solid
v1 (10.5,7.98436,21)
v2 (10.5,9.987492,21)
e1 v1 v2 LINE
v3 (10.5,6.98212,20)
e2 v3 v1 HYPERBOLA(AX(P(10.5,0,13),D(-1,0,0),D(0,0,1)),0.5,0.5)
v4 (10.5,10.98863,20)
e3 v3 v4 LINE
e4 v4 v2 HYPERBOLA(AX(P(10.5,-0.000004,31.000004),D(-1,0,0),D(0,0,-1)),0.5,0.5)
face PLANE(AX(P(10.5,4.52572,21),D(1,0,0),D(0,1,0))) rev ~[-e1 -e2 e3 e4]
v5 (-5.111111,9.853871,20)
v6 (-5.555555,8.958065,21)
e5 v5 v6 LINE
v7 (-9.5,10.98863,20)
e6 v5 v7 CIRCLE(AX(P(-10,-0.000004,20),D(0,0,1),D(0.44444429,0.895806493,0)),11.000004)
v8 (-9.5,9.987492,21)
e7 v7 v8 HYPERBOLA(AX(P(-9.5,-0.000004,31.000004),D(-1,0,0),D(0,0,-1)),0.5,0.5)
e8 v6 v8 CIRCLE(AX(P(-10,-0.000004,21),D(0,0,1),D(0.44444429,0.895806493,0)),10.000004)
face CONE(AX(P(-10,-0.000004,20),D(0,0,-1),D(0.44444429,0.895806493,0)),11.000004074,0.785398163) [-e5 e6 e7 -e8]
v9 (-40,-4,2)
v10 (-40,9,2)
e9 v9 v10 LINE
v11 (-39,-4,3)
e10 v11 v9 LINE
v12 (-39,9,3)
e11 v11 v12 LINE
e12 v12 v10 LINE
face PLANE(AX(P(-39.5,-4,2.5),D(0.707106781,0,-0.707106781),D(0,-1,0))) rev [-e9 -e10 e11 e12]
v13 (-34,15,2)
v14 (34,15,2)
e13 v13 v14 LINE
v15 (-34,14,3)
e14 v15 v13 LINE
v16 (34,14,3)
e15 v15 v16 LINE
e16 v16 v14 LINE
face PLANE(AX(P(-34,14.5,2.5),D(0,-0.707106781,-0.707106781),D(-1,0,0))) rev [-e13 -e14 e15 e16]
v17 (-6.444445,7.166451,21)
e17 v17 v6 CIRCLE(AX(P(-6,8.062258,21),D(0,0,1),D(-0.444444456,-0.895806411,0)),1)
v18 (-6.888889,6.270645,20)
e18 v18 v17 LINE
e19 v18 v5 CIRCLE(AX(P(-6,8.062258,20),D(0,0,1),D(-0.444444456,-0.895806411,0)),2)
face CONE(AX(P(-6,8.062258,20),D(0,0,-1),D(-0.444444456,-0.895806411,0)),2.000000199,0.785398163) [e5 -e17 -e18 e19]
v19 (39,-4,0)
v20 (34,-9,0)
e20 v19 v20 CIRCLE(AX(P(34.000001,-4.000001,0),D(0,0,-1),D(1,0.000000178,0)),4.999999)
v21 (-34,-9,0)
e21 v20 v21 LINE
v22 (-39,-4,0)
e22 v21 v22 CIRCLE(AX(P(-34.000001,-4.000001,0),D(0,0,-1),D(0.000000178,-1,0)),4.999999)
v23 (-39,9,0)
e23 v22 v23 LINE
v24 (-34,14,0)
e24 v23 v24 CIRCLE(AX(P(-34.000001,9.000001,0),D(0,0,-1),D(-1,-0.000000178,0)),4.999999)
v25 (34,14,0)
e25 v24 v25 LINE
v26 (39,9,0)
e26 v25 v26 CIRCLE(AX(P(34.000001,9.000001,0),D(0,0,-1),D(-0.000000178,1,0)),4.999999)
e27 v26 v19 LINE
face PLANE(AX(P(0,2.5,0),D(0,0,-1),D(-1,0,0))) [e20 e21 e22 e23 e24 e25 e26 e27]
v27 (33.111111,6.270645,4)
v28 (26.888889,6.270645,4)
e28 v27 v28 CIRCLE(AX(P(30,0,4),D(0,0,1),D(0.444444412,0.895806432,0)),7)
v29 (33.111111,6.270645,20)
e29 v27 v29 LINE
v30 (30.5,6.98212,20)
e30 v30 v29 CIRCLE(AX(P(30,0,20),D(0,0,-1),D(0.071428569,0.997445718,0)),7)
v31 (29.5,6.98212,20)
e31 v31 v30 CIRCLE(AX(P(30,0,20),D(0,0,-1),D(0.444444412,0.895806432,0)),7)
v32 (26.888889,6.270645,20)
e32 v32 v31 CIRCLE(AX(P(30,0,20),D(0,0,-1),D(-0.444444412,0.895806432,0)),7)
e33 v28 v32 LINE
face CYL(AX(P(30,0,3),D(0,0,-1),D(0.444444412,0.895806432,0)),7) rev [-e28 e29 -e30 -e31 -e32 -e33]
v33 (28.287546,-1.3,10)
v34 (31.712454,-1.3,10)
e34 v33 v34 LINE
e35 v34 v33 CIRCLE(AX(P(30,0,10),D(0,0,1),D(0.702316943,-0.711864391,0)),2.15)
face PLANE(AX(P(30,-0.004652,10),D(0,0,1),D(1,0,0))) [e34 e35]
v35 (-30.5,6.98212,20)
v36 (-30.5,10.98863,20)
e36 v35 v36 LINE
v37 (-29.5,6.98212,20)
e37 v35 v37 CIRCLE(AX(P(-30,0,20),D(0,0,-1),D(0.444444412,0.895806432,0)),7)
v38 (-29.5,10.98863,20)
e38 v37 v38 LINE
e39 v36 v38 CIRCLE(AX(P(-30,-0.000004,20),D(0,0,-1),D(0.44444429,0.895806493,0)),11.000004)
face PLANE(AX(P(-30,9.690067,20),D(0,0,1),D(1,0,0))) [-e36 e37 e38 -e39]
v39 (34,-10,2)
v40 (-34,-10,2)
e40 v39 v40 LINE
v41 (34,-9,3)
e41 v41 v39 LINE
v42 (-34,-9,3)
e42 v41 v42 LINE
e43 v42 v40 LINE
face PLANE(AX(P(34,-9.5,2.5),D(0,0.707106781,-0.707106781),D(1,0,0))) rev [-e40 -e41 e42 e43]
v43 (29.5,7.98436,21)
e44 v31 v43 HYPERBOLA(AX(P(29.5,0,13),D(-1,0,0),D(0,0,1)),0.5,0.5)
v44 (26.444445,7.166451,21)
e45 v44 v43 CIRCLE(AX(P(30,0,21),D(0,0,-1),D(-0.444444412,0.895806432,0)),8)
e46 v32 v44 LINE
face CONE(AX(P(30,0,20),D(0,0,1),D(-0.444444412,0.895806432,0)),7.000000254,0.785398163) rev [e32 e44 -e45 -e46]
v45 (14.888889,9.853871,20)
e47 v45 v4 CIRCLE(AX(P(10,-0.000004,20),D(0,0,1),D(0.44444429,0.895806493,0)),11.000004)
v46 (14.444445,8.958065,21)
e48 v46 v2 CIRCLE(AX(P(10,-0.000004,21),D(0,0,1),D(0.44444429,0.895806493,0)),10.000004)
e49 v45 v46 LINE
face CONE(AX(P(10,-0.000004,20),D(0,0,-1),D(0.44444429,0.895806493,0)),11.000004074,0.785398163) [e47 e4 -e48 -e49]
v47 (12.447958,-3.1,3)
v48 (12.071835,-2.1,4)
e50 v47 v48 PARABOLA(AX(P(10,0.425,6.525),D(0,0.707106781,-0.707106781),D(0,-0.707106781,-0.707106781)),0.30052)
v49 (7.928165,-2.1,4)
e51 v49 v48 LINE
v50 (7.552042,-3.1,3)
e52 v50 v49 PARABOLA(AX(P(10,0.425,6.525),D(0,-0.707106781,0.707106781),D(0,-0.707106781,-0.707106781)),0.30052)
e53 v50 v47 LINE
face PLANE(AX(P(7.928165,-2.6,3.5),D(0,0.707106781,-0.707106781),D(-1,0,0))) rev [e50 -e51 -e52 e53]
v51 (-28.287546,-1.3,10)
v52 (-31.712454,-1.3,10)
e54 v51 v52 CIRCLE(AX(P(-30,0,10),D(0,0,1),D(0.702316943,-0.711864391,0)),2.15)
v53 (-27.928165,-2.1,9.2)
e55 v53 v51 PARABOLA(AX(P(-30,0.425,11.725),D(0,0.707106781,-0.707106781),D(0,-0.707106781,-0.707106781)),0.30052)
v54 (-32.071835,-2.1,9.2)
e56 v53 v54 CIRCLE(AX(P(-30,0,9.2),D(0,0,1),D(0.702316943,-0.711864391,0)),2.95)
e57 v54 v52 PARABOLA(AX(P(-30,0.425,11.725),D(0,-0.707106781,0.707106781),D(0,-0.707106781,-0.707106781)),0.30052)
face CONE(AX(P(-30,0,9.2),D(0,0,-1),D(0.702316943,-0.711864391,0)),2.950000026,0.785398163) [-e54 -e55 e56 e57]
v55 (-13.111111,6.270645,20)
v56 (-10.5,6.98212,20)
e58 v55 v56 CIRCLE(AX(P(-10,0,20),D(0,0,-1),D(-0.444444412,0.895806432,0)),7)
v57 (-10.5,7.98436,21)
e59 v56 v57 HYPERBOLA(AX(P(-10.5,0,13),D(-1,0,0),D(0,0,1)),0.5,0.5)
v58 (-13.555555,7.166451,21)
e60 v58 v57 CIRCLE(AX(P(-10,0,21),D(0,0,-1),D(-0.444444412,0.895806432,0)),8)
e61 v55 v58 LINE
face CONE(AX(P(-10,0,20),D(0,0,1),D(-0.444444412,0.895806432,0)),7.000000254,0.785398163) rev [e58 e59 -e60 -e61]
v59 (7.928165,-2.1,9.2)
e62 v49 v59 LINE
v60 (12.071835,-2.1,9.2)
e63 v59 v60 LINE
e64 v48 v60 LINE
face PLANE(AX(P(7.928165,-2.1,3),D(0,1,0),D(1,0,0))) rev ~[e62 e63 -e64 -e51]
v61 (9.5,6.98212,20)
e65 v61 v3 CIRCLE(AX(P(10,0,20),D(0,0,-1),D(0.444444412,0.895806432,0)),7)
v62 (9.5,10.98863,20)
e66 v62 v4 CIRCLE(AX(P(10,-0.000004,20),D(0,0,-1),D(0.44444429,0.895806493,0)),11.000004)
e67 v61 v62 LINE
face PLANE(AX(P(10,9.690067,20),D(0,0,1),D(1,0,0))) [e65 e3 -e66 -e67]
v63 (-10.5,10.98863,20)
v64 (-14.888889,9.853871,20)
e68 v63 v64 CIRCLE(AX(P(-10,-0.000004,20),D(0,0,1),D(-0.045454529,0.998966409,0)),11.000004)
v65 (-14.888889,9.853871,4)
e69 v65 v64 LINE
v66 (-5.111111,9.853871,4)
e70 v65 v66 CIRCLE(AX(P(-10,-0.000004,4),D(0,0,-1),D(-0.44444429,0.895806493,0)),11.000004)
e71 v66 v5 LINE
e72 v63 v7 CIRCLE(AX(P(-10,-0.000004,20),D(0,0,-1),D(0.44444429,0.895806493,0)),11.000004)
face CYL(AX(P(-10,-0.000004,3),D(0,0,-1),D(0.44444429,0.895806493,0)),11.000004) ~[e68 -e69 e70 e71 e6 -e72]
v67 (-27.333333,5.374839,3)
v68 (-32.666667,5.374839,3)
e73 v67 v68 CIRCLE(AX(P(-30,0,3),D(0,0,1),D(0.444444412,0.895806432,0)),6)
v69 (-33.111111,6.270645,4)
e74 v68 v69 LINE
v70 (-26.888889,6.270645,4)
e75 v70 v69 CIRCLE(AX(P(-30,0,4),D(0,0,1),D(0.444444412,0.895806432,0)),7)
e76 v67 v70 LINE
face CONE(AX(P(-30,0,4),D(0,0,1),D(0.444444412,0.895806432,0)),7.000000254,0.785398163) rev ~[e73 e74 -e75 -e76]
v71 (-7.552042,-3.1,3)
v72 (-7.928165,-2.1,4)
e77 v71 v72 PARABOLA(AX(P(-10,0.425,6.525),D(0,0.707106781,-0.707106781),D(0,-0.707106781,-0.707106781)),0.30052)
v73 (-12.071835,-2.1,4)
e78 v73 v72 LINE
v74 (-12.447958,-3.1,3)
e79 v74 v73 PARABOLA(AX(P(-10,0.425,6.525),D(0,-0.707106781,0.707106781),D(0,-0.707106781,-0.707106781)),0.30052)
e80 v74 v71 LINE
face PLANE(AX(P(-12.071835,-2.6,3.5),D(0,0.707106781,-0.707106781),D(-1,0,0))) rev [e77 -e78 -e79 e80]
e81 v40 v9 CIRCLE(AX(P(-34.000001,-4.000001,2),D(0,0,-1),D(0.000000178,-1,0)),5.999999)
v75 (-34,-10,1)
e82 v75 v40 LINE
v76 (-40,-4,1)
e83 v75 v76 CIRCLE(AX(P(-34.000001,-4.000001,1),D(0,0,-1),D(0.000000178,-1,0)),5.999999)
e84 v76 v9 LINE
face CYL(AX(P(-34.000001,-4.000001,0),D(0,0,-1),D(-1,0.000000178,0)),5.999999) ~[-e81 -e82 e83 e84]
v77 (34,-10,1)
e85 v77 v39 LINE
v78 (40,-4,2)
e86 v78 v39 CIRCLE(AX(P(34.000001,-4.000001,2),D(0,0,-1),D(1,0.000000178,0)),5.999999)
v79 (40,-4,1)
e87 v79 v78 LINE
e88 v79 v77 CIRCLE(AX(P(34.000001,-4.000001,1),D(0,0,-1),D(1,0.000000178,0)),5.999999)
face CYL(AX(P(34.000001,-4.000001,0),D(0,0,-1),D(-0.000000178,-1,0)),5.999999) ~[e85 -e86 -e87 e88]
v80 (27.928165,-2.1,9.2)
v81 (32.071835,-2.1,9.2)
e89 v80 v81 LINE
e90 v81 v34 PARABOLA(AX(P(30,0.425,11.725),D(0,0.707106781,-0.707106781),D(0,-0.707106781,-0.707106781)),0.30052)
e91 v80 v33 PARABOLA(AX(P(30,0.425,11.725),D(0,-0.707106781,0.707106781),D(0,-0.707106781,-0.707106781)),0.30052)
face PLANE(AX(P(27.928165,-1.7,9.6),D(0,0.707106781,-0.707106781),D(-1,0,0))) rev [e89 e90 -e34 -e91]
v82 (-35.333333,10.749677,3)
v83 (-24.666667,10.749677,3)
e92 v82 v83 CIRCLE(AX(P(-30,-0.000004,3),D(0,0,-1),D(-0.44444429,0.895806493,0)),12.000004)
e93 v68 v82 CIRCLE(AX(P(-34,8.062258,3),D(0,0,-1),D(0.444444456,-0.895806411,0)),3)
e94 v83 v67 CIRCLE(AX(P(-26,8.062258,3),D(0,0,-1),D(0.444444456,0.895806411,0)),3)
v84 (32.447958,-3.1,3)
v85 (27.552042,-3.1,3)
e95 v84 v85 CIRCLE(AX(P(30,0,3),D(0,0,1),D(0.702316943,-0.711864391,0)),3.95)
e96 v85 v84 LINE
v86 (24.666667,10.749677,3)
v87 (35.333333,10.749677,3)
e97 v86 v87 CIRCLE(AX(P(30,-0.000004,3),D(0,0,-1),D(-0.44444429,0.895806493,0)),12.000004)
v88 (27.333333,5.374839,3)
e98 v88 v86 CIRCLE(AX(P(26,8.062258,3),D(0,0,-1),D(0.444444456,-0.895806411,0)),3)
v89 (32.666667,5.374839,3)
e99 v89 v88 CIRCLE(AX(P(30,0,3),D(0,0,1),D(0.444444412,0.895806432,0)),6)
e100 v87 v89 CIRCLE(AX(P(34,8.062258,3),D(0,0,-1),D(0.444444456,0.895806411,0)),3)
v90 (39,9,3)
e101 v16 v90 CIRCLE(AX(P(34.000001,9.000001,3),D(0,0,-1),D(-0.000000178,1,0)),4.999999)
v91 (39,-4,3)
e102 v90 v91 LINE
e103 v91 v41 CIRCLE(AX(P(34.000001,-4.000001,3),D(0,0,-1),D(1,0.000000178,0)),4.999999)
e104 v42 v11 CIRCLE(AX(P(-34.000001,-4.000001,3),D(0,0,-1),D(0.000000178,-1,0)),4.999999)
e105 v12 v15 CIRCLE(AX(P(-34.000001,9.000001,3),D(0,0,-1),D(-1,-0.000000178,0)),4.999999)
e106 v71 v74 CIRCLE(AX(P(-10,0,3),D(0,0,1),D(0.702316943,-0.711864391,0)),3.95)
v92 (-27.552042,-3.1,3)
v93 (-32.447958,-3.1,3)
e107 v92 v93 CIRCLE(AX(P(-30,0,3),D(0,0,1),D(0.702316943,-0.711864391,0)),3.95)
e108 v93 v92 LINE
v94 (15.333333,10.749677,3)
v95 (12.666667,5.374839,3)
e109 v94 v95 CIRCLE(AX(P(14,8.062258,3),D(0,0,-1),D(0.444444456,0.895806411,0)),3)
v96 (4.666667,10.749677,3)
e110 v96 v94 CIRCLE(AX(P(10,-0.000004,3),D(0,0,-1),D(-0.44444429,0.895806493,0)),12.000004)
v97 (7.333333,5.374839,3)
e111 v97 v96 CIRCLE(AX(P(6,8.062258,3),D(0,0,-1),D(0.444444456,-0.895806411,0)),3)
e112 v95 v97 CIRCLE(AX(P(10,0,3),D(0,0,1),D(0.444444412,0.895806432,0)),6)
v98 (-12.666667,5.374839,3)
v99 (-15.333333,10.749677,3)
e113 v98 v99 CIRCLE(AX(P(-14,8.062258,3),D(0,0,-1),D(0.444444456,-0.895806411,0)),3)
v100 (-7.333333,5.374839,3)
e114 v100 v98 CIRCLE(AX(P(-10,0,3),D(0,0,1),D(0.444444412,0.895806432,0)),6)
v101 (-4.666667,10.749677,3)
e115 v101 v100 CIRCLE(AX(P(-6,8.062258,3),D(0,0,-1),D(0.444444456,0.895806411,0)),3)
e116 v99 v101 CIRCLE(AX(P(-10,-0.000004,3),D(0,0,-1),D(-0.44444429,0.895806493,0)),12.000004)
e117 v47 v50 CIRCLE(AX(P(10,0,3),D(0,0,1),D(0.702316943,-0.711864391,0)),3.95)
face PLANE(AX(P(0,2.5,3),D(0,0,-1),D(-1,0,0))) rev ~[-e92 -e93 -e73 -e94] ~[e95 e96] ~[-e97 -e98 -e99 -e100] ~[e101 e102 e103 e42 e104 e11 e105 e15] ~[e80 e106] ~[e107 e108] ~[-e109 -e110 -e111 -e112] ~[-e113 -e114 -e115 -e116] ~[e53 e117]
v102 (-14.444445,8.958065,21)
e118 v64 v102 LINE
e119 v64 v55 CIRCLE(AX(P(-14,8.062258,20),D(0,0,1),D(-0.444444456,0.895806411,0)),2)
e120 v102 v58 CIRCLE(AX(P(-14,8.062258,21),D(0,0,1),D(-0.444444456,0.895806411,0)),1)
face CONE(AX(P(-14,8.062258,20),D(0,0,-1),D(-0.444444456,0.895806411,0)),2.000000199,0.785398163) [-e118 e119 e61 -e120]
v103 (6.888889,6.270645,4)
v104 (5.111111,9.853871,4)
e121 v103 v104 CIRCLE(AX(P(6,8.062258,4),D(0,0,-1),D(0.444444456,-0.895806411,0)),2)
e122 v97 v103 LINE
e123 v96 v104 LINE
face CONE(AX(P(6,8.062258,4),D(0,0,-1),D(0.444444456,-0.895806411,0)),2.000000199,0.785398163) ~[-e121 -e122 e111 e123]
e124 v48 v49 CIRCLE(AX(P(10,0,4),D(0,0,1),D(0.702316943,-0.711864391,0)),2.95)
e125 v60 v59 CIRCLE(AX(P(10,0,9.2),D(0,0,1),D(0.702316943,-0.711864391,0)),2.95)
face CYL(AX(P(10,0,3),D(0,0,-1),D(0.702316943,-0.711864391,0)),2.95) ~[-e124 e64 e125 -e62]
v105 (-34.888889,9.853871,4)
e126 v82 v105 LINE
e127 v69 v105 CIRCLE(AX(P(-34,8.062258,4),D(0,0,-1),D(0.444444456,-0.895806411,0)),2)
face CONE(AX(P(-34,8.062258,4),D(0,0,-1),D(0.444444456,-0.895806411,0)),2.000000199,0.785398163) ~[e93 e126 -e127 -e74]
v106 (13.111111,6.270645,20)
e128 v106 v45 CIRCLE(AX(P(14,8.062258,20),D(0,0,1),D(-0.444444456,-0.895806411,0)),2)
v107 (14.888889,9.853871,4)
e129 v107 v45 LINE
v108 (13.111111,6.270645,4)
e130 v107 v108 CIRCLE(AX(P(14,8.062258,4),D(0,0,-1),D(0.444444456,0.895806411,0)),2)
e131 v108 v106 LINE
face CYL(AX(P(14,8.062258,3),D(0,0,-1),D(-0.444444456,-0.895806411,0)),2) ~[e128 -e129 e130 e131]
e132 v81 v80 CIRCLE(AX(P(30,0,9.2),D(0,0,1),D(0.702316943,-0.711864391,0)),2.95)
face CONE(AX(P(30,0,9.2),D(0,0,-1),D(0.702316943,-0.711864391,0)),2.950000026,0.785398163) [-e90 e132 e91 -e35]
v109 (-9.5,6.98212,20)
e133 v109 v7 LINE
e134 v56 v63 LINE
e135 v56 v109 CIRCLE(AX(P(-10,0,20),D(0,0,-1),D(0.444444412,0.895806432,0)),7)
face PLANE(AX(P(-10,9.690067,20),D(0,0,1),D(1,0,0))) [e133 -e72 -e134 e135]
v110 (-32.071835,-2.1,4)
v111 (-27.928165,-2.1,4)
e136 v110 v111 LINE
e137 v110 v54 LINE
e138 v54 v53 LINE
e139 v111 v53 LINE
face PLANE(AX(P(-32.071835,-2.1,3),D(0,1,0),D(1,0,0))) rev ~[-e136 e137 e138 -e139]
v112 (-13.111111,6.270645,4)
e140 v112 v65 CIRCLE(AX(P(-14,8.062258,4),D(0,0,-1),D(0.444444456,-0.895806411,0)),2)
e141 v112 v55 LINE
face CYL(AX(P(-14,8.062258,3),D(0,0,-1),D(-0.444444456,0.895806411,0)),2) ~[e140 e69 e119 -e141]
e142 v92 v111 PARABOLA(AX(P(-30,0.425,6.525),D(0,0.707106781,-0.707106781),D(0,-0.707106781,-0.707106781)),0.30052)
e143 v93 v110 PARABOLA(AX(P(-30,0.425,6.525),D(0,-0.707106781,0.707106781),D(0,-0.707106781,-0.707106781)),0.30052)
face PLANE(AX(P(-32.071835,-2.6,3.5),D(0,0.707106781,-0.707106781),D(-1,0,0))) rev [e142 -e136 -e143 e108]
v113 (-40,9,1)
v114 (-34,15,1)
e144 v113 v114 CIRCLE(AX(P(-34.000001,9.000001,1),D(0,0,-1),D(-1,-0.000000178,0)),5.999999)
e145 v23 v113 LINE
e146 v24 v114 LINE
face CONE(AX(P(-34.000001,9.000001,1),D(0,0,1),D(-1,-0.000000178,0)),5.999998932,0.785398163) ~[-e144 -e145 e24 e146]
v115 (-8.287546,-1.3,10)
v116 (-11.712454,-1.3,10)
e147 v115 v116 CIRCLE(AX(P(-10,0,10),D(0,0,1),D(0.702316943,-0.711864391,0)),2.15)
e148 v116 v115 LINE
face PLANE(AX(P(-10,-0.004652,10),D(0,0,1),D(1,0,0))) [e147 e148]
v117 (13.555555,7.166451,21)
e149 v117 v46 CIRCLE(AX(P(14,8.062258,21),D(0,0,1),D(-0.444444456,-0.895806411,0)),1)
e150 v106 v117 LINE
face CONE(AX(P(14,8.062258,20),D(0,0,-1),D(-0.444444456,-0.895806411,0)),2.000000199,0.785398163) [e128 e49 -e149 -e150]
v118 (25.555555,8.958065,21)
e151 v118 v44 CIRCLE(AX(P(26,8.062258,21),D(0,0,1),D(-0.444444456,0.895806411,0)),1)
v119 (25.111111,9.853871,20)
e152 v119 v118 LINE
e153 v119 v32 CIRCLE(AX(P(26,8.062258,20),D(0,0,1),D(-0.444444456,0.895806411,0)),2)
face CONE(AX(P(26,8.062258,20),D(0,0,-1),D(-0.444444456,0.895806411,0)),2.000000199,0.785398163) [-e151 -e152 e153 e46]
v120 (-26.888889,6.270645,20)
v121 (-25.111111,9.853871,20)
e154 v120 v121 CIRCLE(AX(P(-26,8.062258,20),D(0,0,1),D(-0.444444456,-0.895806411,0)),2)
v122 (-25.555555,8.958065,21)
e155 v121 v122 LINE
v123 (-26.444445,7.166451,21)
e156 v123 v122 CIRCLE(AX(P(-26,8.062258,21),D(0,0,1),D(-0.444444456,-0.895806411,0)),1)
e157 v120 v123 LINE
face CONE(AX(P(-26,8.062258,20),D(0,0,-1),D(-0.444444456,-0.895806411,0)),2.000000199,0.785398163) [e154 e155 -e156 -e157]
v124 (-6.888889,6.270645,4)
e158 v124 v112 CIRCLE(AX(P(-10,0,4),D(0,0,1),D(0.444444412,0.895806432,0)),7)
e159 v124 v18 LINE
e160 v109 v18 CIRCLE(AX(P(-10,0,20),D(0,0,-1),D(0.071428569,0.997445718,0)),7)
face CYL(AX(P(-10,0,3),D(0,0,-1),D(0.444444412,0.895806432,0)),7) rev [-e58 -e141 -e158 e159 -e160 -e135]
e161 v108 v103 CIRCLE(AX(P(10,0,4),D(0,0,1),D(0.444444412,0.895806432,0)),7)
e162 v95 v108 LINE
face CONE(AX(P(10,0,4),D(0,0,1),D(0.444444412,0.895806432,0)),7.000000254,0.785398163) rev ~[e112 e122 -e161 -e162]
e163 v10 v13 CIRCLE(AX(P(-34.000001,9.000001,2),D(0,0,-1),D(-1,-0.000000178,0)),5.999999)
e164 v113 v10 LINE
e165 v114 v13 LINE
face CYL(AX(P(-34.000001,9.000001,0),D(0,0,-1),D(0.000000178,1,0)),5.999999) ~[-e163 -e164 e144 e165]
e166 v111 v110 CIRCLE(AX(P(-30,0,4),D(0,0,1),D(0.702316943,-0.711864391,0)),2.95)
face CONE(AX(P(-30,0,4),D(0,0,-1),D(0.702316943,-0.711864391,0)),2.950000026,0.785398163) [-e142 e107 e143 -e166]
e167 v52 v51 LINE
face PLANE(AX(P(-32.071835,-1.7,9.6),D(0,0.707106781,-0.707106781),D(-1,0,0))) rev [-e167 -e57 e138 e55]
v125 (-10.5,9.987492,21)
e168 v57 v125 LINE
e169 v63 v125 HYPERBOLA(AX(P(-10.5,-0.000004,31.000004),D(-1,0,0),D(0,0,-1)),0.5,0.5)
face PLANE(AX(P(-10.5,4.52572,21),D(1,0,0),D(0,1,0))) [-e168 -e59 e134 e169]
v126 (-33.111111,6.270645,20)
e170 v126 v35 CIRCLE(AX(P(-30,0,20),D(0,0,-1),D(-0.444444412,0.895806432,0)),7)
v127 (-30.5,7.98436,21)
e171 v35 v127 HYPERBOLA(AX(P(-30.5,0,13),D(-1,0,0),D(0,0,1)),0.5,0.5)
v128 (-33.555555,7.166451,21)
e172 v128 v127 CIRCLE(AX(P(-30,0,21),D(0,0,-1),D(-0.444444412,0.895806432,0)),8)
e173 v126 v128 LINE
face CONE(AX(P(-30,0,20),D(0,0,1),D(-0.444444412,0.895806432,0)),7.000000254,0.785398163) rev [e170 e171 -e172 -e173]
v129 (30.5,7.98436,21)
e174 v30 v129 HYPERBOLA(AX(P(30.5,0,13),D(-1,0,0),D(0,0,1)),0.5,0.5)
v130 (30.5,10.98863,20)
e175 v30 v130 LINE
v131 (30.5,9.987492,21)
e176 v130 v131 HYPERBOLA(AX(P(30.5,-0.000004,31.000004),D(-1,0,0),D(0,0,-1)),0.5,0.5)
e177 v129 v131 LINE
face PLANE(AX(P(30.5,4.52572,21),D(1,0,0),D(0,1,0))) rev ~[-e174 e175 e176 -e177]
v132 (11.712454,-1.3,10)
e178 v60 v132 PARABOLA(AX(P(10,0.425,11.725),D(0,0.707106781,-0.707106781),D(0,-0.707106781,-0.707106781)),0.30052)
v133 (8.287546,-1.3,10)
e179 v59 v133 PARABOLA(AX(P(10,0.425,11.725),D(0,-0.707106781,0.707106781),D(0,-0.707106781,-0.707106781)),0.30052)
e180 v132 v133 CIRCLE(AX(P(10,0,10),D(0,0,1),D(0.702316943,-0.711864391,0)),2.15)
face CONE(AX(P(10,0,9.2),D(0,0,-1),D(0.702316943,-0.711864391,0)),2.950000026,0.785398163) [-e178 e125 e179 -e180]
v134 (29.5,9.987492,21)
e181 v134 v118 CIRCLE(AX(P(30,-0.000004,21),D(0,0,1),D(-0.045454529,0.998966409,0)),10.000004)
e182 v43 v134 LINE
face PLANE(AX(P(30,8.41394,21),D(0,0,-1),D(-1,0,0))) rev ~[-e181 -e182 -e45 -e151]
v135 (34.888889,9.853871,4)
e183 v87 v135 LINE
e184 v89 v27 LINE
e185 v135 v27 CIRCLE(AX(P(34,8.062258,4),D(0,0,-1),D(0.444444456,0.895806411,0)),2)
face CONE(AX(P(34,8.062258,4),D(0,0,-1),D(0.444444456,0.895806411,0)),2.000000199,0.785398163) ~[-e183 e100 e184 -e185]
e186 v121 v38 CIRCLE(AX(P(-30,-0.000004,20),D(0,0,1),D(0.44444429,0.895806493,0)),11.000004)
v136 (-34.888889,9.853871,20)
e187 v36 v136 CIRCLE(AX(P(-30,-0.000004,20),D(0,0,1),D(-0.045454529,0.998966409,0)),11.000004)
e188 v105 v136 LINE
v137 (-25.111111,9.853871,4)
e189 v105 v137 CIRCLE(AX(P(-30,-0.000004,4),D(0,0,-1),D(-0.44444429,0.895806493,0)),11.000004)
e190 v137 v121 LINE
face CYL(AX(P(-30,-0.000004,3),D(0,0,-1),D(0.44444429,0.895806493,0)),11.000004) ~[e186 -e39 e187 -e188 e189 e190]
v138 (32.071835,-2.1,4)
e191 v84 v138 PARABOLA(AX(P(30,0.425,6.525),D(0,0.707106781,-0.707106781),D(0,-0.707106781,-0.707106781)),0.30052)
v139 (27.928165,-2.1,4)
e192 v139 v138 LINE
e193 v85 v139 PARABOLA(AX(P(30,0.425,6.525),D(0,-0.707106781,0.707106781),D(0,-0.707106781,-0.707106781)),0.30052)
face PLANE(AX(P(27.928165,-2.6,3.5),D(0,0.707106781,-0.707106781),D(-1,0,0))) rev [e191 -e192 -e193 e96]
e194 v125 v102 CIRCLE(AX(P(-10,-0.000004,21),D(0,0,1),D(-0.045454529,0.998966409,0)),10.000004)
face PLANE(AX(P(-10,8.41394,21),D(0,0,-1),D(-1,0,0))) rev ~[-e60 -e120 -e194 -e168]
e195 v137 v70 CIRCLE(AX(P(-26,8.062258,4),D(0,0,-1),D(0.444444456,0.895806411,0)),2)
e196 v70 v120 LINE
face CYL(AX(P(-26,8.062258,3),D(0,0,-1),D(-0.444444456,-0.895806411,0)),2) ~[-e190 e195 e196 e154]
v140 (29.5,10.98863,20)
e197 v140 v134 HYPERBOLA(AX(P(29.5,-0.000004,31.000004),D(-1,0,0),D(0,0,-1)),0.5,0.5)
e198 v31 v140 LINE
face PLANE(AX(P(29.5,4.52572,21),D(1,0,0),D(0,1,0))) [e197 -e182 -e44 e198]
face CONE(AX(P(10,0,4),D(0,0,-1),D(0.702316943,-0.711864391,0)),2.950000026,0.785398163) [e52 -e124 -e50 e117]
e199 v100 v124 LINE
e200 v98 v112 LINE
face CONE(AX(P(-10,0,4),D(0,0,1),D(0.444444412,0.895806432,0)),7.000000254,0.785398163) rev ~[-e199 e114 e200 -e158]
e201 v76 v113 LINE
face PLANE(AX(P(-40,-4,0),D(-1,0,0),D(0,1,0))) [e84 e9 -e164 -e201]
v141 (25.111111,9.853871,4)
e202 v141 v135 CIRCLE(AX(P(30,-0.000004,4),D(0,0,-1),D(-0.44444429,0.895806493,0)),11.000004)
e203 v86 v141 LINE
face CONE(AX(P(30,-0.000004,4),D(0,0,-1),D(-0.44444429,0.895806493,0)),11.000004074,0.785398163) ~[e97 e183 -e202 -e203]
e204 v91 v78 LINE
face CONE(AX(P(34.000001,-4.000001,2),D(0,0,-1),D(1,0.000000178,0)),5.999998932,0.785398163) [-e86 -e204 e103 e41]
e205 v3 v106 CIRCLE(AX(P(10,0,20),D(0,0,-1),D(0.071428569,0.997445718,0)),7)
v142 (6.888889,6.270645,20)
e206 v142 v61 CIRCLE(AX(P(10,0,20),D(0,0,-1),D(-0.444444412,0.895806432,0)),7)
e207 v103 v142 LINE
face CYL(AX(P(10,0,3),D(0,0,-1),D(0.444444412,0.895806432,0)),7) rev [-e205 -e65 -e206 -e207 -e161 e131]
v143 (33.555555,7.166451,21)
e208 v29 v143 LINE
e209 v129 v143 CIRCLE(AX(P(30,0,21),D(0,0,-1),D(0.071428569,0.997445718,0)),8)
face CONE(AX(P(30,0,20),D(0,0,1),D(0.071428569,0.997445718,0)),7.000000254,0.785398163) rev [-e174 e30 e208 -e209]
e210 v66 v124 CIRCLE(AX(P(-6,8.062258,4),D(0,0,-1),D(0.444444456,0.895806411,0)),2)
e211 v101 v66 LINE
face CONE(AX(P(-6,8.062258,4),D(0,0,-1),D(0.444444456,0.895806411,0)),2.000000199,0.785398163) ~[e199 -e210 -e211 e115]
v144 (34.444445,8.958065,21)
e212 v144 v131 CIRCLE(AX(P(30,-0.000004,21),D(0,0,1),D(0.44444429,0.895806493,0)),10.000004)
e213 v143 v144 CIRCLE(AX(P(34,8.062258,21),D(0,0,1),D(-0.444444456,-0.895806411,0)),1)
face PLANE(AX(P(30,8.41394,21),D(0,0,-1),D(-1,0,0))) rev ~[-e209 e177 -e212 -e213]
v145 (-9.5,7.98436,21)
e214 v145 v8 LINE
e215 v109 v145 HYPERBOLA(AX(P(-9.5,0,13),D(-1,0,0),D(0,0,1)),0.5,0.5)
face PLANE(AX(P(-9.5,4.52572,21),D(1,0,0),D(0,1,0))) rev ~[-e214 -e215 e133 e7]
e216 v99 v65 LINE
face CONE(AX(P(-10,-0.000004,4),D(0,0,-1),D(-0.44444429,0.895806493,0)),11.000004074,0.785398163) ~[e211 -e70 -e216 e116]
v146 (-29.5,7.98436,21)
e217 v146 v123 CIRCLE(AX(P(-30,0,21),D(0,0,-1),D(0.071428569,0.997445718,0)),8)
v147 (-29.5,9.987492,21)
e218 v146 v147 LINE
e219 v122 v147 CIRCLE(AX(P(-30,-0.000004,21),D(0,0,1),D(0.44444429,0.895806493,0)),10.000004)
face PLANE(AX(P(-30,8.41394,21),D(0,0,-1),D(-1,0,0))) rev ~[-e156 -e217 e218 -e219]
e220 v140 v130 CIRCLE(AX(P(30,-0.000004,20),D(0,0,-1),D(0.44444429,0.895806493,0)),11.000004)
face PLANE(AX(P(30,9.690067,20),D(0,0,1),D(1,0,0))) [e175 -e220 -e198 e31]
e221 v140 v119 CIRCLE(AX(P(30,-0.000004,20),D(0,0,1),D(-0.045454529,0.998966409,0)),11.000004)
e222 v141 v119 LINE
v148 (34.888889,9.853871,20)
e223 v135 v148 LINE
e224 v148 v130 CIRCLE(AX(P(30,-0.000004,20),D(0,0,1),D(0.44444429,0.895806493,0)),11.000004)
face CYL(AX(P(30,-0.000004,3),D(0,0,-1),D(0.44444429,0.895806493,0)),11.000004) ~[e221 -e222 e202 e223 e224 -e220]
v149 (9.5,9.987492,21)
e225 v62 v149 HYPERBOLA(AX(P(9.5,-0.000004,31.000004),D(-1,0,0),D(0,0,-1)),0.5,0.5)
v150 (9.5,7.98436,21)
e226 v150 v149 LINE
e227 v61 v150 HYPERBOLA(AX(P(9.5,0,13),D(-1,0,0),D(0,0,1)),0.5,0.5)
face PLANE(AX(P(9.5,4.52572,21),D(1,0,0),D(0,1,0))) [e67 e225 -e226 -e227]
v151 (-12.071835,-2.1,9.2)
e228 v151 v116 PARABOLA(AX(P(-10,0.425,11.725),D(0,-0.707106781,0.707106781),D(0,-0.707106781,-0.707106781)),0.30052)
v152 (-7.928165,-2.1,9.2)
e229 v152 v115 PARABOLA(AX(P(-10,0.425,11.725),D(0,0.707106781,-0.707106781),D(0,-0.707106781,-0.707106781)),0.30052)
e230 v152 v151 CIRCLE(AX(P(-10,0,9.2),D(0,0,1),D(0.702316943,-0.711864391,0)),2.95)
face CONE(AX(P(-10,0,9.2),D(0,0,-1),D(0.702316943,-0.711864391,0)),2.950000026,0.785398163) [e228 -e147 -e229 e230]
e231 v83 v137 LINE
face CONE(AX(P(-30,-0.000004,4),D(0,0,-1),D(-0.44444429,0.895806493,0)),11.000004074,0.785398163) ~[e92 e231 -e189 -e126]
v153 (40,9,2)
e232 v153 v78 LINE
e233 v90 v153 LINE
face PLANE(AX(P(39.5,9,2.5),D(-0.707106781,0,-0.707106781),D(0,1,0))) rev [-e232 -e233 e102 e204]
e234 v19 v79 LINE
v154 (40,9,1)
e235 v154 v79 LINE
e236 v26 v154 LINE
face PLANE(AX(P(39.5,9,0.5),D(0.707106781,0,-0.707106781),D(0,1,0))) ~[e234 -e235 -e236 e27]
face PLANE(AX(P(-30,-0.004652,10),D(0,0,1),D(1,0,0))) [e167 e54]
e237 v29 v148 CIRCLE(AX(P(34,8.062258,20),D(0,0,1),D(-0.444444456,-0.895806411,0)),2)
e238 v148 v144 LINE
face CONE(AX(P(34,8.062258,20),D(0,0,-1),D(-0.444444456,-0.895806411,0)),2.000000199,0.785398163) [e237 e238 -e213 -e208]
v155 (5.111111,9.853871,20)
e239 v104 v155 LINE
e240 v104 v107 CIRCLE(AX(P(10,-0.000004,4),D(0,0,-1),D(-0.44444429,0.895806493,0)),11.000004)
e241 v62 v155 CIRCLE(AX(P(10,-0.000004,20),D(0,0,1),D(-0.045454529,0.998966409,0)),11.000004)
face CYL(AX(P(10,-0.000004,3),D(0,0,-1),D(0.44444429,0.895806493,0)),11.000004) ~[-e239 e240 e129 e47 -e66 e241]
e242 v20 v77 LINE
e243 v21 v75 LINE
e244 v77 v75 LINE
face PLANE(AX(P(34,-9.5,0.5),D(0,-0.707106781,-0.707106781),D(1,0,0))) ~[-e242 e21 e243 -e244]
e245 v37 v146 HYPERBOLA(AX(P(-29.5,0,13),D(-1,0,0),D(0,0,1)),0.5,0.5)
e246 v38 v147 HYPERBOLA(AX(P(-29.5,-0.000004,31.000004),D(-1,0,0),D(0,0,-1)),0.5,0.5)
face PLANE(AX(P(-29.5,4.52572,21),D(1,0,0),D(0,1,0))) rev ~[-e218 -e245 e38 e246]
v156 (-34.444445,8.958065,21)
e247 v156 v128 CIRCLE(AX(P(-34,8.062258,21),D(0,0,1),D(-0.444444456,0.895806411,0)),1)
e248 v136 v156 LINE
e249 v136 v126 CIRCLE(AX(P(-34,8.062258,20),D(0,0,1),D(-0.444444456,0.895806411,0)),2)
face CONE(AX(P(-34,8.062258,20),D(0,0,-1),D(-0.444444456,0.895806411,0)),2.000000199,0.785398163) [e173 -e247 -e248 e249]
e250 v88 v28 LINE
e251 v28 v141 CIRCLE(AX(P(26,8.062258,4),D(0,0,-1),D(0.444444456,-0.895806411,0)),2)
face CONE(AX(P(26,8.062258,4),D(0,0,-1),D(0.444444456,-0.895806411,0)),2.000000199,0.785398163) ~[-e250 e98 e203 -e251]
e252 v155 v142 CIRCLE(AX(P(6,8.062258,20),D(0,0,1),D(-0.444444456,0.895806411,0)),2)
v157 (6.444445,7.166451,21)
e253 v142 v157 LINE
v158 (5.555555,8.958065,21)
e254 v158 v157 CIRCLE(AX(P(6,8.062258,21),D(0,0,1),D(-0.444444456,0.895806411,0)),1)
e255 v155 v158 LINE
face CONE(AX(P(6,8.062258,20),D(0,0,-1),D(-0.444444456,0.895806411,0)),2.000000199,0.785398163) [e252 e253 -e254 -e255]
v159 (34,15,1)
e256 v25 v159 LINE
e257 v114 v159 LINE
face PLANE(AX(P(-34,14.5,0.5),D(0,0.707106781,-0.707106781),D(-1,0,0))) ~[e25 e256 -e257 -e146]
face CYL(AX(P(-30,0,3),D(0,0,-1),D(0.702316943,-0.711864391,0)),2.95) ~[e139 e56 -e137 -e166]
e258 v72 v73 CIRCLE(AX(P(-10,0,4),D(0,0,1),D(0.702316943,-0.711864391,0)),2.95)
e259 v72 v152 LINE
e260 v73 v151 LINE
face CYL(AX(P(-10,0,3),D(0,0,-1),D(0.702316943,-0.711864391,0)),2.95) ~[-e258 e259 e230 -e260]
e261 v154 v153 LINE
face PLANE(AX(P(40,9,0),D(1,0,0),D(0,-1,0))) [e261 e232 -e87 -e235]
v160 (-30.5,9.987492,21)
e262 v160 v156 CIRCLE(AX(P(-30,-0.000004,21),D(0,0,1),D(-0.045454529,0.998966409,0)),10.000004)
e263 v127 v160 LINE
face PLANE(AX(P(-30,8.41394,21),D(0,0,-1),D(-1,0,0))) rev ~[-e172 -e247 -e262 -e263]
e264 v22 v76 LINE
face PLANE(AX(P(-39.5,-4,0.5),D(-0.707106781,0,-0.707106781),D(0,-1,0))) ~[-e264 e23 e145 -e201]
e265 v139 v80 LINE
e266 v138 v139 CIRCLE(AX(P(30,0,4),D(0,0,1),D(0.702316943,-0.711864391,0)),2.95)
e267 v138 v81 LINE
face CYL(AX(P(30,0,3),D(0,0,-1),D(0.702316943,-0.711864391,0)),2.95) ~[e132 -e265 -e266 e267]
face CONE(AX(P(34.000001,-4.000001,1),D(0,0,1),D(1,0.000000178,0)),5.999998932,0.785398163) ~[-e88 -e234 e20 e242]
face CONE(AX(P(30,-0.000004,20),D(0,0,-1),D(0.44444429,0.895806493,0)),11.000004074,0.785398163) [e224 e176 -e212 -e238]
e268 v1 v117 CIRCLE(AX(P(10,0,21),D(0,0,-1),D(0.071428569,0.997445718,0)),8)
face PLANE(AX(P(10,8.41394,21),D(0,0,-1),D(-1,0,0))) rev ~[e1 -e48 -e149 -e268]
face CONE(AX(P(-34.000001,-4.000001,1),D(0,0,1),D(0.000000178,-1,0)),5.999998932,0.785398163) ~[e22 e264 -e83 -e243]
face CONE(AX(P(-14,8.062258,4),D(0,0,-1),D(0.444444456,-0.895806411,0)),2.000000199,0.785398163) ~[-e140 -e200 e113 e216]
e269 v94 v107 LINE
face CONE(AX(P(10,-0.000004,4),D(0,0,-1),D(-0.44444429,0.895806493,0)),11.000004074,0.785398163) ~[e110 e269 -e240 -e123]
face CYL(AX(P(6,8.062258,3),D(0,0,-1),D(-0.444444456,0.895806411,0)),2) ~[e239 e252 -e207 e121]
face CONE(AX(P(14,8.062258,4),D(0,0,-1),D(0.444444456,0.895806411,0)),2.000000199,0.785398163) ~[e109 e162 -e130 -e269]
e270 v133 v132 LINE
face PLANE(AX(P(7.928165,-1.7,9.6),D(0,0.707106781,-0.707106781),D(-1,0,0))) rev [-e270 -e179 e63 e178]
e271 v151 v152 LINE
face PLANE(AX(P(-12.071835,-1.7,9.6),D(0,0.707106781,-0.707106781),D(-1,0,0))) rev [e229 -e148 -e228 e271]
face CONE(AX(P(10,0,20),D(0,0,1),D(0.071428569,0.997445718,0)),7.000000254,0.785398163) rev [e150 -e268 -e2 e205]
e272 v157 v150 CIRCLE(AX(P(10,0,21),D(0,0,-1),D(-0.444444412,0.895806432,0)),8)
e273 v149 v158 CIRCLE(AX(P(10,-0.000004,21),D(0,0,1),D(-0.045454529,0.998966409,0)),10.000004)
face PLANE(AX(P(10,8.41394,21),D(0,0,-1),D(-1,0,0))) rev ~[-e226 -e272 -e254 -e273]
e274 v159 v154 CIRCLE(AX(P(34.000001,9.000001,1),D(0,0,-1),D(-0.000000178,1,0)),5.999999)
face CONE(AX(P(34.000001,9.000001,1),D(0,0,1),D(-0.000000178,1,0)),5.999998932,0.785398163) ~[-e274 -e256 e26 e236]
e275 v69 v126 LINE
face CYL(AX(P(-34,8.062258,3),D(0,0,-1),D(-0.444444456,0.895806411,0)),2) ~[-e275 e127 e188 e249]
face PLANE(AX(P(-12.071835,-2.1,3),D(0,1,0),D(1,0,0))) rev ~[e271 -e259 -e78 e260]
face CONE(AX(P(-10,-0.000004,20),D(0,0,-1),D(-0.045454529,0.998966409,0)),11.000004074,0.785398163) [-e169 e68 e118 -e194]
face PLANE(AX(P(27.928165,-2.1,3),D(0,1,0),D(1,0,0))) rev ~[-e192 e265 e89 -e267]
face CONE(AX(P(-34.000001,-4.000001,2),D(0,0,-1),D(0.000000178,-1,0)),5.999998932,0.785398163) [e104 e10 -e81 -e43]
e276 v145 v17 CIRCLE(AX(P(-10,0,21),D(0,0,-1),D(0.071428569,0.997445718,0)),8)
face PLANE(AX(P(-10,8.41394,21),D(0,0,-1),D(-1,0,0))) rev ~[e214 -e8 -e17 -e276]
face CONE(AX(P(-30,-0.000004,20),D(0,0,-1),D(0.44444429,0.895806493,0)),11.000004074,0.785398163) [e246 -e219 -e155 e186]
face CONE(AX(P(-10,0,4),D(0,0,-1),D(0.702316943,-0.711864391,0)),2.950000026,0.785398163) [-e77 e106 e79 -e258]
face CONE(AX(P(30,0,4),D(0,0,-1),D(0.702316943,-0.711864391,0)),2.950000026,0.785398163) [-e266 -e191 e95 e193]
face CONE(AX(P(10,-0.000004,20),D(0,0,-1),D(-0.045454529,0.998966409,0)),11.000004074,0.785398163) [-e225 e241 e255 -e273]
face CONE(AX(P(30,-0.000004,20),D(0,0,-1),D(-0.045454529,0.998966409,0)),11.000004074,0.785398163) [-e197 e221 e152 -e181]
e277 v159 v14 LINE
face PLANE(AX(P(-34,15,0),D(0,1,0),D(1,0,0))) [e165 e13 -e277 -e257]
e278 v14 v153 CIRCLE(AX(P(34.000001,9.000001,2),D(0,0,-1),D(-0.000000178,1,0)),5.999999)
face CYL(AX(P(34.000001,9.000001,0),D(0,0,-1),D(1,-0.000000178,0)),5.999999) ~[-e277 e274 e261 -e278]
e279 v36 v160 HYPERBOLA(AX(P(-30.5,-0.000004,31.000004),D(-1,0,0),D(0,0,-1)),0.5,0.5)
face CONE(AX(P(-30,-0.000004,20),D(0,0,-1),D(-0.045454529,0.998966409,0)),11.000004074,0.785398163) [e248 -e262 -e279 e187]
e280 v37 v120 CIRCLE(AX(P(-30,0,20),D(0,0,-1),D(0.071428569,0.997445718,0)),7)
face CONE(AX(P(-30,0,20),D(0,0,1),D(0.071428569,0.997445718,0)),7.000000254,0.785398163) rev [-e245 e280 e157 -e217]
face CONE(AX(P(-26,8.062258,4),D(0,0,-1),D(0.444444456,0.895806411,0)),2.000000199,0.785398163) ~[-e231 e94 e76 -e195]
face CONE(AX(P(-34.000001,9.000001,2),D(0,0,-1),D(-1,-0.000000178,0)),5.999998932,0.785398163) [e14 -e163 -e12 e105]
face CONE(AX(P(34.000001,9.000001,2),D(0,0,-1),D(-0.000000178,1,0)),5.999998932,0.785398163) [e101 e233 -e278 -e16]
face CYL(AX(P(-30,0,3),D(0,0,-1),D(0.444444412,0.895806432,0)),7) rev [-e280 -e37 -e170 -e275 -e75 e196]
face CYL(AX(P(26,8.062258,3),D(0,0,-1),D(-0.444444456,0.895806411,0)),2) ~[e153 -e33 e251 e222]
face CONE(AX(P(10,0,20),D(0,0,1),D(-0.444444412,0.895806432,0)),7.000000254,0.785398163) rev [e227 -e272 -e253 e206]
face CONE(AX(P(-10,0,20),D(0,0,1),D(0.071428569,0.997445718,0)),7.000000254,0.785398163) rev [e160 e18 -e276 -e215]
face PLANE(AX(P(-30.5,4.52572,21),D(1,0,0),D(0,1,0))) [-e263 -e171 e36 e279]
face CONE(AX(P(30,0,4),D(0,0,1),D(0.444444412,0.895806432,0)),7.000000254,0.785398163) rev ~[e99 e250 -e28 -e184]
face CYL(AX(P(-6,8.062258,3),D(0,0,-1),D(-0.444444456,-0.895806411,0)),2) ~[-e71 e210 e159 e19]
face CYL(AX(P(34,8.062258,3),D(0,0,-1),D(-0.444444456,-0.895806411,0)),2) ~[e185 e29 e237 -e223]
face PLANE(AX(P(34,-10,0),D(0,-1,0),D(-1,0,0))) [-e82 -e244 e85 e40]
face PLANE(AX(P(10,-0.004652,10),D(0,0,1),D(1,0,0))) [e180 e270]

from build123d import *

# Parameters (mm, degrees)
PAD_DEPTH              = 3
PAD001_DEPTH           = 7
PAD002_DEPTH           = 18
SKETCH003_W            = 1
SKETCH003_H            = 10.328695
POCKET_DEPTH           = 1
LINEARPATTERN_COUNT    = 4
LINEARPATTERN_PITCH    = 20
LINEARPATTERN001_COUNT = 4
LINEARPATTERN001_PITCH = 20
LINEARPATTERN002_COUNT = 4
LINEARPATTERN002_PITCH = 20
CHAMFER_SIZE           = 1
CHAMFER001_SIZE        = 0.8
CHAMFER002_SIZE        = 1


with BuildPart() as part:
    # Sketch → Pad (new body)
    with BuildSketch(Plane.XY):
        with BuildLine():
            Line((-34, 15), (34, 15))
            ThreePointArc((40, 9), (38.242641, 13.242641), (34, 15))
            Line((40, 9), (40, -4))
            ThreePointArc((34, -10), (38.242641, -8.242641), (40, -4))
            Line((34, -10), (-34, -10))
            ThreePointArc((-40, -4), (-38.242641, -8.242641), (-34, -10))
            Line((-40, -4), (-40, 9))
            ThreePointArc((-34, 15), (-38.242641, 13.242641), (-40, 9))
        make_face()
    extrude(amount=PAD_DEPTH)

    # Sketch001 (on Face10 of Pad) → Pad001 (join)
    with BuildSketch(Plane.XY.offset(3)):
        with BuildLine():
            Line((-32.071835, -2.1), (-27.928165, -2.1))
            ThreePointArc((-27.928165, -2.1), (-30, 2.95), (-32.071835, -2.1))
        make_face()
    pad001 = extrude(amount=PAD001_DEPTH)

    # Sketch002 (on Face5 of Pad001) → Pad002 (join)
    with BuildSketch(Plane.XY.offset(3)):
        with BuildLine():
            ThreePointArc((-26.888889, 6.270645), (-30, 7), (-33.111111, 6.270645))
            ThreePointArc((-34.888889, 9.853871), (-35.791613, 7.173369), (-33.111111, 6.270645))
            ThreePointArc((-25.111111, 9.853871), (-30, 11), (-34.888889, 9.853871))
            ThreePointArc((-26.888889, 6.270645), (-24.208387, 7.173369), (-25.111111, 9.853871))
        make_face()
    pad002 = extrude(amount=PAD002_DEPTH)

    # Sketch003 (on Face18 of Pad002) → Pocket (cut)
    with BuildSketch(Plane.XY.offset(21)):
        with Locations((-30, 9.690067)):
            Rectangle(SKETCH003_W, SKETCH003_H)
    pocket = extrude(amount=-POCKET_DEPTH, mode=Mode.SUBTRACT)

    # LinearPattern: Pad001 ×4
    with Locations(*[(i * LINEARPATTERN_PITCH, 0, 0) for i in range(1, LINEARPATTERN_COUNT)]):
        add(pad001)

    # LinearPattern001: Pad002 ×4
    with Locations(*[(i * LINEARPATTERN001_PITCH, 0, 0) for i in range(1, LINEARPATTERN001_COUNT)]):
        add(pad002)

    # LinearPattern002: Pocket ×4
    with Locations(*[(i * LINEARPATTERN002_PITCH, 0, 0) for i in range(1, LINEARPATTERN002_COUNT)]):
        add(pocket, mode=Mode.SUBTRACT)

    # Chamfer
    chamfer_edges = [part.edges().sort_by_distance(p)[0] for p in [
        (-40, 2.5, 3),
        (-38.242641, -8.242641, 3),
        (-38.242641, 13.242641, 3),
        (0, -10, 3),
        (0, 15, 3),
        (38.242641, -8.242641, 3),
        (38.242641, 13.242641, 3),
        (40, 2.5, 3),
        (10, 7, 3),
        (15.791613, 7.173369, 3),
        (4.208387, 7.173369, 3),
        (10, 11, 3),
        (-10, 7, 3),
        (-4.208387, 7.173369, 3),
        (-15.791613, 7.173369, 3),
        (-10, 11, 3),
        (-30, 7, 3),
        (-24.208387, 7.173369, 3),
        (-35.791613, 7.173369, 3),
        (-30, 11, 3),
        (-30, 2.95, 3),
        (-30, -2.1, 3),
        (30, 2.95, 3),
        (30, -2.1, 3),
        (30, 7, 3),
        (24.208387, 7.173369, 3),
        (30, 11, 3),
        (35.791613, 7.173369, 3),
        (-10, 2.95, 3),
        (-10, -2.1, 3),
        (10, 2.95, 3),
        (10, -2.1, 3),
        (-40, 2.5, 0),
        (-38.242641, 13.242641, 0),
        (0, 15, 0),
        (38.242641, 13.242641, 0),
        (40, 2.5, 0),
        (38.242641, -8.242641, 0),
        (0, -10, 0),
        (-38.242641, -8.242641, 0),
    ]]
    chamfer(chamfer_edges, length=CHAMFER_SIZE)

    # Chamfer001
    chamfer001_edges = [part.edges().sort_by_distance(p)[0] for p in [
        (-30, -2.1, 10),
        (-30, 2.95, 10),
        (-10, -2.1, 10),
        (-10, 2.95, 10),
        (10, -2.1, 10),
        (10, 2.95, 10),
        (30, -2.1, 10),
        (30, 2.95, 10),
    ]]
    chamfer(chamfer001_edges, length=CHAMFER001_SIZE)

    # Chamfer002
    chamfer002_edges = [part.edges().sort_by_distance(p)[0] for p in [
        (-35.791613, 7.173369, 21),
        (-24.208387, 7.173369, 21),
        (-15.791613, 7.173369, 21),
        (-4.208387, 7.173369, 21),
        (4.208387, 7.173369, 21),
        (15.791613, 7.173369, 21),
        (24.208387, 7.173369, 21),
        (35.791613, 7.173369, 21),
    ]]
    chamfer(chamfer002_edges, length=CHAMFER002_SIZE)


solid = part.part
